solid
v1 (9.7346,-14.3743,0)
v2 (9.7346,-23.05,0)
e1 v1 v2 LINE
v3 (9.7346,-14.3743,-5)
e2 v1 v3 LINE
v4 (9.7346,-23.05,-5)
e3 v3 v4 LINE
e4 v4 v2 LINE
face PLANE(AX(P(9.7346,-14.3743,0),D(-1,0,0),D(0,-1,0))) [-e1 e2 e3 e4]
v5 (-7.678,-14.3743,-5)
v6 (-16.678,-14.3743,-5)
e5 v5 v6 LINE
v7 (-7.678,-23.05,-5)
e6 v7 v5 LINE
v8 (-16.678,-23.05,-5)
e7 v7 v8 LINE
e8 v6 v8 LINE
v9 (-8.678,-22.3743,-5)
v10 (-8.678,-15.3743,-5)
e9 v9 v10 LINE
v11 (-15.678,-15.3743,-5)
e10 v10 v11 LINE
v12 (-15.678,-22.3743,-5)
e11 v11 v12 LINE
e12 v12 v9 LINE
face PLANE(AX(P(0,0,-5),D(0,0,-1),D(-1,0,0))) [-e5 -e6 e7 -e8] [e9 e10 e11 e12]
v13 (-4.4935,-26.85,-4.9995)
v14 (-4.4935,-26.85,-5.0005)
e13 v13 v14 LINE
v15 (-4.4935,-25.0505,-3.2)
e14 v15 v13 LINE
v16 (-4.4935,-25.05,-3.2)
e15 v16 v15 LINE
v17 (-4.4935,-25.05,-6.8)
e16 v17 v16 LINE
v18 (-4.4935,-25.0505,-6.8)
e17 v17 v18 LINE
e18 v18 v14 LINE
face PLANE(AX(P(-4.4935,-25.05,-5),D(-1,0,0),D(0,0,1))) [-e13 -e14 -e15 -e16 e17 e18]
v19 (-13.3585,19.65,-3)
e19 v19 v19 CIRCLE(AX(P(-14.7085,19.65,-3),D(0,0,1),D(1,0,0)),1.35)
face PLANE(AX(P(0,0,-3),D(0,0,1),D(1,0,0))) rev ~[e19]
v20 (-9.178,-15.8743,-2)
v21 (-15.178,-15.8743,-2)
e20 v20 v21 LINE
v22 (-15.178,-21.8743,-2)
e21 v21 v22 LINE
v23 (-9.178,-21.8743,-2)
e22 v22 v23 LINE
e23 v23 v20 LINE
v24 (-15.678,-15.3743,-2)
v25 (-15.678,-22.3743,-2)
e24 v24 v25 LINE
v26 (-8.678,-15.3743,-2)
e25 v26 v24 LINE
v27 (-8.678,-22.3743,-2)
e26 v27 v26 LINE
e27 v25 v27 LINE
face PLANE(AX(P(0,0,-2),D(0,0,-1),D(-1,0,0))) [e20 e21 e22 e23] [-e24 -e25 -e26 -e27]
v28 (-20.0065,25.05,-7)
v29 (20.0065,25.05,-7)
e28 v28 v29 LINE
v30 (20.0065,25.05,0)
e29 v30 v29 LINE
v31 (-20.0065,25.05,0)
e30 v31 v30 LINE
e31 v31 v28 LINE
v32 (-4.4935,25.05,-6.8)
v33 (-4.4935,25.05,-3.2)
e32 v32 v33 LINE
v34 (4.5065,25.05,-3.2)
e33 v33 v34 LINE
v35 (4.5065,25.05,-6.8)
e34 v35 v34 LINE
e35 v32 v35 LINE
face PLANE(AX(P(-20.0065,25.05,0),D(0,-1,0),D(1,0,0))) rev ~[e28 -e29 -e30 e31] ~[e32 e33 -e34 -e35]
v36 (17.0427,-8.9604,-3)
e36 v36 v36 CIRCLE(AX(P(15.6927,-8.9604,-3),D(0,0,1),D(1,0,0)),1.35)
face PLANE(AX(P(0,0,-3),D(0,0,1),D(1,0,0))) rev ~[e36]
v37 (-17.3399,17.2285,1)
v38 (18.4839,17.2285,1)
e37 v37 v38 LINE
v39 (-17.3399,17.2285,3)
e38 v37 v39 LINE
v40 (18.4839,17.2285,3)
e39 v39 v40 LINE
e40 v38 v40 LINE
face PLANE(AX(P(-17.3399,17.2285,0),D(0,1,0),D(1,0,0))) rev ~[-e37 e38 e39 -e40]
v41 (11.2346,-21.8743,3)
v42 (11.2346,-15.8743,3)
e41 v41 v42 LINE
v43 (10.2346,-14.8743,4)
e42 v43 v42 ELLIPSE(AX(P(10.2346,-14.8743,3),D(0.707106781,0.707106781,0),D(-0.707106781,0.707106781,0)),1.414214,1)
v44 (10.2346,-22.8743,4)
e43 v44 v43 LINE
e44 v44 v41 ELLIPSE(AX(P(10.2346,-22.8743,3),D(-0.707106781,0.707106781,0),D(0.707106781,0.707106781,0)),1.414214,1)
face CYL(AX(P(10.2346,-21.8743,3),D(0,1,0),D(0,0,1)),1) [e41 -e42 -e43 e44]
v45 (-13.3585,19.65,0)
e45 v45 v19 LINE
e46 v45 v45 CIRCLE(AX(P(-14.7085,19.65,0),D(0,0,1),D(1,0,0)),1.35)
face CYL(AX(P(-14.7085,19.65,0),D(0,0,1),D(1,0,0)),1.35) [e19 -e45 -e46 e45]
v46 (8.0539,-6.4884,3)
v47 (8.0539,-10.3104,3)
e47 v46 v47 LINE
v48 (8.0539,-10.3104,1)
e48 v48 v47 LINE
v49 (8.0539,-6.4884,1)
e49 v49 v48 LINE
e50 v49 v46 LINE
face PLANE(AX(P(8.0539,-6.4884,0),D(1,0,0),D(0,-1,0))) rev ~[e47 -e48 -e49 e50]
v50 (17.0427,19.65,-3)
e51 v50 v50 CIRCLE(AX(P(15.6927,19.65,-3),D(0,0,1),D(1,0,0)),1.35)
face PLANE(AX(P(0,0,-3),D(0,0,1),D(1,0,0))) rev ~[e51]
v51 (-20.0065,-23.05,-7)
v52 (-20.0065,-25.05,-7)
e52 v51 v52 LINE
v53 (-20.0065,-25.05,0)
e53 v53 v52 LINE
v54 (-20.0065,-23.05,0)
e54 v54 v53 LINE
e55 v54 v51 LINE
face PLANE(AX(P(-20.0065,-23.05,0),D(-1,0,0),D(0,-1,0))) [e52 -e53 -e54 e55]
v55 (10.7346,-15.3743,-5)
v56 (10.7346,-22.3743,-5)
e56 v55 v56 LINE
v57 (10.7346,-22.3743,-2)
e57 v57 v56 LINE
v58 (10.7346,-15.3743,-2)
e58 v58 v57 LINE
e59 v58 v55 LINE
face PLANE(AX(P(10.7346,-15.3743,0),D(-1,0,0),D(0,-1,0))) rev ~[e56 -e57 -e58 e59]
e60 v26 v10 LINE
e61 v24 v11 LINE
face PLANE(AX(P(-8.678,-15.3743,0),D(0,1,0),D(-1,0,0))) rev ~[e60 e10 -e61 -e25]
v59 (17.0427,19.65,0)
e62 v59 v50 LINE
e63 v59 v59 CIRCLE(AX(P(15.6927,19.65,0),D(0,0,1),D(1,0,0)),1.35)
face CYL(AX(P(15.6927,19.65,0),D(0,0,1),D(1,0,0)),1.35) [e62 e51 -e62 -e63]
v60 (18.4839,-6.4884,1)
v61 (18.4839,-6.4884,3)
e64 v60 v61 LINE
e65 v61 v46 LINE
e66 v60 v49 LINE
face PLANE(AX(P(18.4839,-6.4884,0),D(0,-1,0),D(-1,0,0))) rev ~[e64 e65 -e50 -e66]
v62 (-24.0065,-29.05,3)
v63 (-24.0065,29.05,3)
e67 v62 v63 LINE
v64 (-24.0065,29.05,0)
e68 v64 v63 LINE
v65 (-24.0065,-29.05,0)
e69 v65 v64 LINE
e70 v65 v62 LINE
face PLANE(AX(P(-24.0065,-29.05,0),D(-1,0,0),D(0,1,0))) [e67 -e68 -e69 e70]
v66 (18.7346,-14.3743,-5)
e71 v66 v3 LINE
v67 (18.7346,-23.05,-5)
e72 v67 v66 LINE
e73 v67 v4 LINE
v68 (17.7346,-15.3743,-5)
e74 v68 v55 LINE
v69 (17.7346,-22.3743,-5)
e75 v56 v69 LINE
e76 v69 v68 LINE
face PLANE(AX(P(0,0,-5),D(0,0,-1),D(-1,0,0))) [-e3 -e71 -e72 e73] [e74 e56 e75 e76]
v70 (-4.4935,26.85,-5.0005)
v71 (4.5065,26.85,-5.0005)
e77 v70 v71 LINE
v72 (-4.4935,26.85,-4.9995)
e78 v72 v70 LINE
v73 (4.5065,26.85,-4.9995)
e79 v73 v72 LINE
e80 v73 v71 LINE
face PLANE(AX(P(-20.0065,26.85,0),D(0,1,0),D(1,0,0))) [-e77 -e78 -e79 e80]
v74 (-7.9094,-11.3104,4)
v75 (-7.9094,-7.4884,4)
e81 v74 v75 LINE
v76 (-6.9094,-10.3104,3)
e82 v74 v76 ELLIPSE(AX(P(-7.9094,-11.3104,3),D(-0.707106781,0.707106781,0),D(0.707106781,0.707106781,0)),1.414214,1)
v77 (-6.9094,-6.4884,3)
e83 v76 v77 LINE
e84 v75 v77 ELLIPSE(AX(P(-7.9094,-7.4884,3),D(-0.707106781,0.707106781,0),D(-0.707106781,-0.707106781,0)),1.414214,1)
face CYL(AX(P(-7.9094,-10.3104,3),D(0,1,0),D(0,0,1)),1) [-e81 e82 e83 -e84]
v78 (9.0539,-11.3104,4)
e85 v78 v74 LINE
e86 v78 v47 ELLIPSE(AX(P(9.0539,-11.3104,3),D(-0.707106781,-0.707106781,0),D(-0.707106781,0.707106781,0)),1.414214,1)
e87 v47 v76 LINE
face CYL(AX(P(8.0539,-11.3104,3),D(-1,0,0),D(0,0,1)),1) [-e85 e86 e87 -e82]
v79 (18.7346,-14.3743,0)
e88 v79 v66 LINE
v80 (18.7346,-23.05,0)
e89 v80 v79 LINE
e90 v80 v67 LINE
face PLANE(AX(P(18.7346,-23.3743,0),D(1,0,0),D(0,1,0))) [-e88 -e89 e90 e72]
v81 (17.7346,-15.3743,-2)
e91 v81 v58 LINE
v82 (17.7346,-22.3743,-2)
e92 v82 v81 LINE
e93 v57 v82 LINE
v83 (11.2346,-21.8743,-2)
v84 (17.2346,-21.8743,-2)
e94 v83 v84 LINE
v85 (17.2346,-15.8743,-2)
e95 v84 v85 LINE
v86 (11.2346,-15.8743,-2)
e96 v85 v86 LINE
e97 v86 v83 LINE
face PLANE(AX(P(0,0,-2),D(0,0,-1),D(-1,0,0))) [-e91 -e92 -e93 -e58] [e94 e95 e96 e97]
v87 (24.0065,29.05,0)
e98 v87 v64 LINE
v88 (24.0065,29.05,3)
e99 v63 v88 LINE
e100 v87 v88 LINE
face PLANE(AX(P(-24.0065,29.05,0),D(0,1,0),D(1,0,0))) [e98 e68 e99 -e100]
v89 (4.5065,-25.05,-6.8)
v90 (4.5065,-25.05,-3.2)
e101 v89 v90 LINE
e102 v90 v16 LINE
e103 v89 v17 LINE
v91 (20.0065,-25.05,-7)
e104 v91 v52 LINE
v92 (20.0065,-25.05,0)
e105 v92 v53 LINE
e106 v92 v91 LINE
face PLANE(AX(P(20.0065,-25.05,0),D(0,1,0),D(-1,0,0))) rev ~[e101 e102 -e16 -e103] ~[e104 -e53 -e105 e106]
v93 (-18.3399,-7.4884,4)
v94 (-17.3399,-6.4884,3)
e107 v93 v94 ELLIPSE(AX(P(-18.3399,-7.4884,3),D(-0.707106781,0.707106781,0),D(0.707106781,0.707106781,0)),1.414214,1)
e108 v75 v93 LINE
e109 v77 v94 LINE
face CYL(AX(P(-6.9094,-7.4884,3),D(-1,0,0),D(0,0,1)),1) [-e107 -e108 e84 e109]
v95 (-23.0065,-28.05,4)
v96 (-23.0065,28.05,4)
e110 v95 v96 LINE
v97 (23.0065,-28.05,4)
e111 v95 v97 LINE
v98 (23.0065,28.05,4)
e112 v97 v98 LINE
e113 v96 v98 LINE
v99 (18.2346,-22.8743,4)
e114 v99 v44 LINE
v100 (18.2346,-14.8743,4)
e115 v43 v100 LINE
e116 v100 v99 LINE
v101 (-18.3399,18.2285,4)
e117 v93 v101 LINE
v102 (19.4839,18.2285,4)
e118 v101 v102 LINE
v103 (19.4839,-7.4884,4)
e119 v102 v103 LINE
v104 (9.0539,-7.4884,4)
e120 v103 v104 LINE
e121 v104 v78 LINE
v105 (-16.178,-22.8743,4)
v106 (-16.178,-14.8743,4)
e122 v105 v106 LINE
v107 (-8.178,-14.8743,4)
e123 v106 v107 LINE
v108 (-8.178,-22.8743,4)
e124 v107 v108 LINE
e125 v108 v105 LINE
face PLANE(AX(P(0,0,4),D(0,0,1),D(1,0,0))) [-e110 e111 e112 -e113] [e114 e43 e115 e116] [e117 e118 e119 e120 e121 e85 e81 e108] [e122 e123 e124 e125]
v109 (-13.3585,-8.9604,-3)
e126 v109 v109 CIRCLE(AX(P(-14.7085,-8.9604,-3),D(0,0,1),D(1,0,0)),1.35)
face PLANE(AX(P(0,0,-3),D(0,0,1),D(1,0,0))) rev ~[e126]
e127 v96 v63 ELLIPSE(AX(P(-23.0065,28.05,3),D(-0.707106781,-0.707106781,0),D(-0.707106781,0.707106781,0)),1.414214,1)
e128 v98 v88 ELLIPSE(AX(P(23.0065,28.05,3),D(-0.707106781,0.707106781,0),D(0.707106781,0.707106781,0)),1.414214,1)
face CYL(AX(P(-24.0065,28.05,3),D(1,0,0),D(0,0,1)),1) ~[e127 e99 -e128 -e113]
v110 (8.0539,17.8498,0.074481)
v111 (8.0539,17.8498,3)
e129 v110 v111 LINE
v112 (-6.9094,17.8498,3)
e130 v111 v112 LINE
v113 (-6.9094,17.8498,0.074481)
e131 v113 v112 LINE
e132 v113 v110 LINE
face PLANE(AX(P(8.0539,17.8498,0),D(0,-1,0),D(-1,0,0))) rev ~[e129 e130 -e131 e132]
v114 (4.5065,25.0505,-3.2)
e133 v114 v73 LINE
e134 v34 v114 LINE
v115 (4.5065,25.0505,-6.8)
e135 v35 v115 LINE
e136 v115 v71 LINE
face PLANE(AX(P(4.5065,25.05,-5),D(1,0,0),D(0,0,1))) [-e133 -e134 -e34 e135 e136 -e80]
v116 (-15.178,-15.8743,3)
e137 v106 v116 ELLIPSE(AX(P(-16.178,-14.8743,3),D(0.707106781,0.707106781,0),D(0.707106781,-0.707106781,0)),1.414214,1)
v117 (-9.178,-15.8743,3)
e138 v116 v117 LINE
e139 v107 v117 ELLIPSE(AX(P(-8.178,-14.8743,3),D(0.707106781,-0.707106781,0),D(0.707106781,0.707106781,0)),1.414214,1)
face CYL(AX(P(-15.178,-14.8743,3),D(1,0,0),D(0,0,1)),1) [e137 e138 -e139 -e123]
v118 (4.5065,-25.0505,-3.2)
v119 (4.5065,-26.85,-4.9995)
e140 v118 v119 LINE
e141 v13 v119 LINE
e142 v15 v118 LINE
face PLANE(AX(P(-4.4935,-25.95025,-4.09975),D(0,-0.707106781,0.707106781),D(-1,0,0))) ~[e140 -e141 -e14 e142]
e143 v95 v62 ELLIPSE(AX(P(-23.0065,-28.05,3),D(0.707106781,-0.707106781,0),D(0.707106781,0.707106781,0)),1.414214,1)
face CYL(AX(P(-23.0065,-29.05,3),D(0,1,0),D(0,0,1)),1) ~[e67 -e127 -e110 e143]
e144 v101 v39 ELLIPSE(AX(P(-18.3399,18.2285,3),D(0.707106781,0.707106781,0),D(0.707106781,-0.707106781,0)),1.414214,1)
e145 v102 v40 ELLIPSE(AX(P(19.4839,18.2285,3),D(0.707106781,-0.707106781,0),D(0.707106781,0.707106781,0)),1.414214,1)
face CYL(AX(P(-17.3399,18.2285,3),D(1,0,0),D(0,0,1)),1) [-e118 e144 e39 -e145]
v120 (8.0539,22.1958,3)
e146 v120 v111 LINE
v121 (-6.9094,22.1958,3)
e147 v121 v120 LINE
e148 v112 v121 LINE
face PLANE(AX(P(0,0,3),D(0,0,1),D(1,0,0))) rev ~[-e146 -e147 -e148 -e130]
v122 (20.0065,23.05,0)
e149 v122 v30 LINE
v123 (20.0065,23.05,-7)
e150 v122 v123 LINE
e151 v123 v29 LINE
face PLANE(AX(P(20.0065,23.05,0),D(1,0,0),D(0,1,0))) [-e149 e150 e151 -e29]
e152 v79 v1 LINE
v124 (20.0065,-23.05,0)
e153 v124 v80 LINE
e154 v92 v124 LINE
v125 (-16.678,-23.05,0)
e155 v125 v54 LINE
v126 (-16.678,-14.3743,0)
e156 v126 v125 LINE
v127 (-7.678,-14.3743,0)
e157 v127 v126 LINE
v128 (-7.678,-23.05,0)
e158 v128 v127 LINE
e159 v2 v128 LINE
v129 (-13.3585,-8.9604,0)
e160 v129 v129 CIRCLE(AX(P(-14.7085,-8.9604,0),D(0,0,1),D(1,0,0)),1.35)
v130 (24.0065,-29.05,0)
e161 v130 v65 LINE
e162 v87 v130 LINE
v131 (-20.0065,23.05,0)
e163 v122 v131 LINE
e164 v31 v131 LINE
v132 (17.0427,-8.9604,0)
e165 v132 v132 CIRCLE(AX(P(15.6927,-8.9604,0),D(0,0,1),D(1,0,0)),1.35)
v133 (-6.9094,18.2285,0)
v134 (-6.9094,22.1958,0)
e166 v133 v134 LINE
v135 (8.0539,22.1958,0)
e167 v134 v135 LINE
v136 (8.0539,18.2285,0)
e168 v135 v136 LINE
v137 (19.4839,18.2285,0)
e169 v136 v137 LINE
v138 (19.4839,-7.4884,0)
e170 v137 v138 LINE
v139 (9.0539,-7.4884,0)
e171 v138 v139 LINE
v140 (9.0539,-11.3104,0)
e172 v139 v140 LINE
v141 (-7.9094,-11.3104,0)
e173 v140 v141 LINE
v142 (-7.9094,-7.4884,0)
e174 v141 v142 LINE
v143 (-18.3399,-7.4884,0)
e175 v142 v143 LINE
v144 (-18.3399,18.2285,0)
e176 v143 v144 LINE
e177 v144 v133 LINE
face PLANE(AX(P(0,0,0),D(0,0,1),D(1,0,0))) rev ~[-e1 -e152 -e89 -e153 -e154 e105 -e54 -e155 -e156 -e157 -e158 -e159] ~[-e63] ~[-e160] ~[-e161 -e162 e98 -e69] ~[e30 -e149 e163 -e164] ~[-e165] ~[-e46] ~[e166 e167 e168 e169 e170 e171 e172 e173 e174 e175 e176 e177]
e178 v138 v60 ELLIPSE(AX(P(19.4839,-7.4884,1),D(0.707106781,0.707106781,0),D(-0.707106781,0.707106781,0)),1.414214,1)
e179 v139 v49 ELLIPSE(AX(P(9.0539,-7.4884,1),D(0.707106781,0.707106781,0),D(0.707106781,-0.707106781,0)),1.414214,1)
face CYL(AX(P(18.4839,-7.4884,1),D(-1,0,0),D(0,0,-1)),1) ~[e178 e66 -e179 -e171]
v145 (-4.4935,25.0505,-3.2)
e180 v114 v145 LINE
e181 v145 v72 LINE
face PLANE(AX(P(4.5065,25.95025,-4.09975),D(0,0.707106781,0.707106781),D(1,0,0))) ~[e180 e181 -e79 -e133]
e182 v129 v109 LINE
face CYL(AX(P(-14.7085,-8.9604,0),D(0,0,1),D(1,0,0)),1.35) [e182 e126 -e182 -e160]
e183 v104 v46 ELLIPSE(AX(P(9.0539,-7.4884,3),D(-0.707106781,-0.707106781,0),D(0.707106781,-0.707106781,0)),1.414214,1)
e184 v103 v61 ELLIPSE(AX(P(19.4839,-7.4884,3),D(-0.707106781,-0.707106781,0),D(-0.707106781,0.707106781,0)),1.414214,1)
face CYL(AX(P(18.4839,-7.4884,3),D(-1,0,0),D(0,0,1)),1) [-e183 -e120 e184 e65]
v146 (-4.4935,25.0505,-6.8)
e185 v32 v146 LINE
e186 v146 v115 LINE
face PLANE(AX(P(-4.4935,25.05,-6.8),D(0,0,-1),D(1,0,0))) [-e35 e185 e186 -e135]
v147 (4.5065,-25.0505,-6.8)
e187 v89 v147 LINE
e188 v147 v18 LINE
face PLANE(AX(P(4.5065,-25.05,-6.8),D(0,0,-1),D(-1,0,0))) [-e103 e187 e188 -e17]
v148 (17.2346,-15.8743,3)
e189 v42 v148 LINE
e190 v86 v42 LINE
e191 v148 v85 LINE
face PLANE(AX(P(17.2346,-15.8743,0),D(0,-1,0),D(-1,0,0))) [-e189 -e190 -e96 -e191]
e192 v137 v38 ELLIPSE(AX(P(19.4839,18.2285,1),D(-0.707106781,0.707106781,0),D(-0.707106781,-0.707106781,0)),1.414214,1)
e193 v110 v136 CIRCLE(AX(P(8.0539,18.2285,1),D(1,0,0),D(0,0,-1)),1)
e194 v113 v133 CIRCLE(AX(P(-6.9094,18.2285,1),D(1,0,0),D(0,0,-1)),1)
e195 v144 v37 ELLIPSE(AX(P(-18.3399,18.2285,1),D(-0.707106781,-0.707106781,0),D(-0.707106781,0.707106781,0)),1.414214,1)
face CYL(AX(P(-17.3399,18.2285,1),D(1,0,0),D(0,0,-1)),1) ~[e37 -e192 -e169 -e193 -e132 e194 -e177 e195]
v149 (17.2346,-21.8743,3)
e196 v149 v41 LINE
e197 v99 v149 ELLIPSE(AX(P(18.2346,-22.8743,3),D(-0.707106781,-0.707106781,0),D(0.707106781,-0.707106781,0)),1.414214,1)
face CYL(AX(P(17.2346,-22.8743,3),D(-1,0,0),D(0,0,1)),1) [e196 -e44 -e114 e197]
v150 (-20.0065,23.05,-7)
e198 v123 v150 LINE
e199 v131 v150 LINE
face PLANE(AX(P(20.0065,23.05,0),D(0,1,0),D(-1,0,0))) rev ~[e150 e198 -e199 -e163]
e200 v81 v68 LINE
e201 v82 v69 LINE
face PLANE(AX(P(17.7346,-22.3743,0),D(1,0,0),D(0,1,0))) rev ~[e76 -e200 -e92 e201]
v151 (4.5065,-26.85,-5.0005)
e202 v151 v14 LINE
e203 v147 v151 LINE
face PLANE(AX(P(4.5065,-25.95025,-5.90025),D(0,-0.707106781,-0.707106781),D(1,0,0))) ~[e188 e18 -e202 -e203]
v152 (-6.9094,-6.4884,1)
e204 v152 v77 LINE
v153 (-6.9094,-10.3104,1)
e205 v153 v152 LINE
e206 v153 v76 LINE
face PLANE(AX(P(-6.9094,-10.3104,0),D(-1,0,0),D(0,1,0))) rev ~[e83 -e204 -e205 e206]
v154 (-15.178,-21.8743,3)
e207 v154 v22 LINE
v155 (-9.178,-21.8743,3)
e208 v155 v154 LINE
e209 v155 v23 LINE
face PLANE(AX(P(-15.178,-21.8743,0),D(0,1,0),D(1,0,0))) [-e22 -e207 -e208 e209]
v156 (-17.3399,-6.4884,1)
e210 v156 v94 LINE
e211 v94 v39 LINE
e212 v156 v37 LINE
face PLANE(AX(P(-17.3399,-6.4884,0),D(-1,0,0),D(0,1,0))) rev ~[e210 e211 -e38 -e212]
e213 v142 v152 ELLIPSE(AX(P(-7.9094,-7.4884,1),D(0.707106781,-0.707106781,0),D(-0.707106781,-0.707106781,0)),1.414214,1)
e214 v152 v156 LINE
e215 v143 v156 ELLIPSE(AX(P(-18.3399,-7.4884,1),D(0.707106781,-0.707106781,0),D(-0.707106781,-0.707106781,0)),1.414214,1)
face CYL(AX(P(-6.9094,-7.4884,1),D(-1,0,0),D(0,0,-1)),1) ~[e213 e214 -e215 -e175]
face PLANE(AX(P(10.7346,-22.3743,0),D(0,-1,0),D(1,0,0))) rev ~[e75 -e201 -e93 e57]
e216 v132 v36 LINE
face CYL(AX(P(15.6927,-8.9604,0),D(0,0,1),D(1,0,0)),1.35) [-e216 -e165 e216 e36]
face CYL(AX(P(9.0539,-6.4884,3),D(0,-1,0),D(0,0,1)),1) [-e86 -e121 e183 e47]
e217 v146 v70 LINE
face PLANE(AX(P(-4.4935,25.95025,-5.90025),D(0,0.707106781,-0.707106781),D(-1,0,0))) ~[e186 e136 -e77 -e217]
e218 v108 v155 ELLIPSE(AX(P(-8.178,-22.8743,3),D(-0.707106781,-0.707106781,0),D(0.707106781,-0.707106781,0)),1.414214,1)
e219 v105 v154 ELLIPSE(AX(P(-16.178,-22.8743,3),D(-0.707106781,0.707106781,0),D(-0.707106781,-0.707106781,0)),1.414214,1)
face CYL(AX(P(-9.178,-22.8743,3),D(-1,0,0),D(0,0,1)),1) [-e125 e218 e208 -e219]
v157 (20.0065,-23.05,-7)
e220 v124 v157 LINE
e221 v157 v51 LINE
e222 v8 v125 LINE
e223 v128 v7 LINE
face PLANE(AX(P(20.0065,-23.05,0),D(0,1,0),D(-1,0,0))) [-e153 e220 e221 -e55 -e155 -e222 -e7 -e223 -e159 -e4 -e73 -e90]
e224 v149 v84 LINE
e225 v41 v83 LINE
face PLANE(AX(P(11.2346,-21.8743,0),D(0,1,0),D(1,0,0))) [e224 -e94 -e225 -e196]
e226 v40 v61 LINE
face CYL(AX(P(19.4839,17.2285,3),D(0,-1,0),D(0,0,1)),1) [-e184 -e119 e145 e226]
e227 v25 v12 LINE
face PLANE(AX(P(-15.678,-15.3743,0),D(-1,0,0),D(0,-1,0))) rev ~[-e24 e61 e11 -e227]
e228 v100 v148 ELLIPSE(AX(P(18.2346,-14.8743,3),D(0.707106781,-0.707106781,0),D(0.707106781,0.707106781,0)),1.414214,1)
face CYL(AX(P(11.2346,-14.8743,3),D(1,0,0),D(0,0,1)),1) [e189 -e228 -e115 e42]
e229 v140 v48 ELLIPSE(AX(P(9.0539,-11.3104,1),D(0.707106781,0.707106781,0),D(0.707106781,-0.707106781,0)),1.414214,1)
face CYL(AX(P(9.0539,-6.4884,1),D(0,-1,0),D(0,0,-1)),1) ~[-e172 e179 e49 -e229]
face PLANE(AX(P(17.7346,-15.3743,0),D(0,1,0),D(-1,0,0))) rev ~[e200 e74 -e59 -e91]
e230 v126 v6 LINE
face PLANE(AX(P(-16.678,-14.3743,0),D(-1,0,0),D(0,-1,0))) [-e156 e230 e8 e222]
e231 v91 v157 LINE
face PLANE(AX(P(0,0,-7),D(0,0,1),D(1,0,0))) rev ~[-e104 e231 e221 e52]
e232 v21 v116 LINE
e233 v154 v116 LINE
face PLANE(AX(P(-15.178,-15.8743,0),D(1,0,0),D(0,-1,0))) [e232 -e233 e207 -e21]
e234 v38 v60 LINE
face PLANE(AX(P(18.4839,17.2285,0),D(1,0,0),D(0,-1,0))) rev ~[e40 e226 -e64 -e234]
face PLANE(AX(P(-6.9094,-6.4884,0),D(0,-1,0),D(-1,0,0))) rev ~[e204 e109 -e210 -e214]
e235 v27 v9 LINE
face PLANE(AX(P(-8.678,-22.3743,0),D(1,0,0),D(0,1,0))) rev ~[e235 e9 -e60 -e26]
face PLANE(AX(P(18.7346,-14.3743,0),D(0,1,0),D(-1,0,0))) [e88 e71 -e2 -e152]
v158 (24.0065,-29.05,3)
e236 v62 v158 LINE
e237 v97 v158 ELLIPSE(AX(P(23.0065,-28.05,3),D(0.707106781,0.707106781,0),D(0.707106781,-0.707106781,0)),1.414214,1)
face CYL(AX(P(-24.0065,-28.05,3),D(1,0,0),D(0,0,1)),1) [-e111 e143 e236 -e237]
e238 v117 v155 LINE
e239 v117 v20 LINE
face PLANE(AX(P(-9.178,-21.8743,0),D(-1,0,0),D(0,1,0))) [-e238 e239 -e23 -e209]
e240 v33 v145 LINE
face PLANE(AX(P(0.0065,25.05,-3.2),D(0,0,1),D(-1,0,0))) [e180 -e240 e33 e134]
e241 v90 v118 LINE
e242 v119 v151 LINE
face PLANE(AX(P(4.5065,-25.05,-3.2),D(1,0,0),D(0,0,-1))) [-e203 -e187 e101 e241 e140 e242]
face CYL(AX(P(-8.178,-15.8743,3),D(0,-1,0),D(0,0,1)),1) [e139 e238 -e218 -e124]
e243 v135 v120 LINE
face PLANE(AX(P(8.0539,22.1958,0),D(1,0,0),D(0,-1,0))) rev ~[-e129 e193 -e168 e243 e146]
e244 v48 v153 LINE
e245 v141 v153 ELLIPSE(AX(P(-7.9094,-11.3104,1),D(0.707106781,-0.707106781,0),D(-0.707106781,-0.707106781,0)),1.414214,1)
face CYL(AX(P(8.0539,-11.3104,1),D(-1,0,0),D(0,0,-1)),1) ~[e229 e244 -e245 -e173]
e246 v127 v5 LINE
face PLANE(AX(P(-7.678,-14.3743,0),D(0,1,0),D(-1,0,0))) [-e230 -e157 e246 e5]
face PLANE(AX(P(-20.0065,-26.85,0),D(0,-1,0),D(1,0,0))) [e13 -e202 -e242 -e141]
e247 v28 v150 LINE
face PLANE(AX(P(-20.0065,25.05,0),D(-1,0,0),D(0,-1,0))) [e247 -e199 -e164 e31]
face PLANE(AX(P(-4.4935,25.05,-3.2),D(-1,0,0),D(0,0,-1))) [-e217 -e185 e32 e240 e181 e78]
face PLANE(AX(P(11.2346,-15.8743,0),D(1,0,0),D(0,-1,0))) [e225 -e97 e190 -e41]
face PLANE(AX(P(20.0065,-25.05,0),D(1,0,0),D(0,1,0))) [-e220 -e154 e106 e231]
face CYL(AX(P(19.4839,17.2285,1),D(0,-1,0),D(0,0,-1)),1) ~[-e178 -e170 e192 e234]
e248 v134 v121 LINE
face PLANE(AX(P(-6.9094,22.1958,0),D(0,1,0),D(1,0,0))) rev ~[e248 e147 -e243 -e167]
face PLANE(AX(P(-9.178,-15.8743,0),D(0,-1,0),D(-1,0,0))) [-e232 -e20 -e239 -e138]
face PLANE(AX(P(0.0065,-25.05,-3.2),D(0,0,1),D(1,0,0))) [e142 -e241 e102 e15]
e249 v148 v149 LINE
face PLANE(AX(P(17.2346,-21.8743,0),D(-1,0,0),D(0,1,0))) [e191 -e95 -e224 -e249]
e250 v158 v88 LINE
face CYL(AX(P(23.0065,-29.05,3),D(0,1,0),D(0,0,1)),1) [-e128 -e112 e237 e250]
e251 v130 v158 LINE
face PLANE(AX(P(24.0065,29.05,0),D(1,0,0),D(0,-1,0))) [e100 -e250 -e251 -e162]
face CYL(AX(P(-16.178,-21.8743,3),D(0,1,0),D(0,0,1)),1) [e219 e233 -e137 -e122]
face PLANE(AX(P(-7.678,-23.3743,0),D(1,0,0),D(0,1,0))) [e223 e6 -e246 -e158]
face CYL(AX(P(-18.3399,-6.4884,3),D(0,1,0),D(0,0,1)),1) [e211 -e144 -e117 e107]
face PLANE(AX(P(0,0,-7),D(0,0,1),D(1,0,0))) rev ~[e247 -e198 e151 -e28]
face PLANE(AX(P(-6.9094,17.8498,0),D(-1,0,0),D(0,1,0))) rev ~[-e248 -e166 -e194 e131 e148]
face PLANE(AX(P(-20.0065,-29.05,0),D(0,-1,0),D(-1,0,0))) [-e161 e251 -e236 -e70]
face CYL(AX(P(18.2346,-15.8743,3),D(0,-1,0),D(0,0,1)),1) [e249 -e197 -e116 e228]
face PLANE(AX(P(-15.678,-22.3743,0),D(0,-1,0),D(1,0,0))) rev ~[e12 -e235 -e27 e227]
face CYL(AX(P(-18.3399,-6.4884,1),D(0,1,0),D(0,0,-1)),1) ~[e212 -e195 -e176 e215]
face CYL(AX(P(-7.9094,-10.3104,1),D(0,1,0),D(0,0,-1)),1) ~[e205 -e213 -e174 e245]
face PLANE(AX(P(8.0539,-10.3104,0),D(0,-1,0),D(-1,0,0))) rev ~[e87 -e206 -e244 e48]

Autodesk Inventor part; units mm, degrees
ref_plane "YZ Plane" through (0, 0, 0) normal (1, 0, 0) x (0, 1, 0)
ref_plane "XZ Plane" through (0, 0, 0) normal (0, 1, 0) x (-1, 0, 0)
ref_plane "XY Plane" through (0, 0, 0) normal (0, 0, 1) x (1, 0, 0)
sketch "Skizze1" plane through (0, 0, 0) normal (0, 0, 1) x (1, 0, 0)
  line L0 (-24.0065, 29.05) -> (24.0065, 29.05)
  line L1 (24.0065, 29.05) -> (24.0065, -29.05)
  line L2 (24.0065, -29.05) -> (-24.0065, -29.05)
  line L3 (-24.0065, -29.05) -> (-24.0065, 29.05)
  line L4 (-24.0065, 29.05) -> (24.0065, -29.05) construction
  line L5 (24.0065, 29.05) -> (-24.0065, -29.05) construction
  line L6 (-24.0065, 29.05) -> (-20.0065, 29.05)
  line L7 (-20.0065, 29.05) -> (-20.0065, -29.05)
  line L8 (-20.0065, -29.05) -> (-24.0065, -29.05)
  line L9 (-24.0065, -29.05) -> (-24.0065, 29.05)
  line L10 (-20.0065, -29.05) -> (24.0065, -29.05)
  line L11 (24.0065, -29.05) -> (24.0065, -25.05)
  line L12 (24.0065, -25.05) -> (-20.0065, -25.05)
  line L13 (-20.0065, -25.05) -> (-20.0065, -29.05)
  line L14 (24.0065, -25.05) -> (20.0065, -25.05)
  line L15 (20.0065, -25.05) -> (20.0065, 29.05)
  line L16 (20.0065, 29.05) -> (24.0065, 29.05)
  line L17 (24.0065, 29.05) -> (24.0065, -25.05)
  line L18 (20.0065, 29.05) -> (-20.0065, 29.05)
  line L19 (-20.0065, 29.05) -> (-20.0065, 25.05)
  line L20 (-20.0065, 25.05) -> (20.0065, 25.05)
  line L21 (20.0065, 25.05) -> (20.0065, 29.05)
  line L22 (-20.0065, 25.05) -> (20.0065, 25.05)
  line L23 (20.0065, 25.05) -> (20.0065, 23.05)
  line L24 (20.0065, 23.05) -> (-20.0065, 23.05)
  line L25 (-20.0065, 23.05) -> (-20.0065, 25.05)
  line L26 (-20.0065, -25.05) -> (20.0065, -25.05)
  line L27 (20.0065, -25.05) -> (20.0065, -23.05)
  line L28 (20.0065, -23.05) -> (-20.0065, -23.05)
  line L29 (-20.0065, -23.05) -> (-20.0065, -25.05)
  line L30 (-24.0065, 29.05) -> (24.0065, 29.05)
  line L31 (24.0065, 29.05) -> (24.0065, -29.05)
  line L32 (24.0065, -29.05) -> (-24.0065, -29.05)
  line L33 (-24.0065, -29.05) -> (-24.0065, 29.05)
  circle A0 centre (-14.7085, 19.65) radius 1.35
  circle A1 centre (15.6927, 19.65) radius 1.35
  circle A2 centre (-14.7085, -8.9604) radius 1.35
  circle A3 centre (15.6927, -8.9604) radius 1.35
  line L34 (-17.3399, 17.2285) -> (18.4839, 17.2285)
  line L35 (18.4839, 17.2285) -> (18.4839, -6.4884)
  line L36 (18.4839, -6.4884) -> (-17.3399, -6.4884)
  line L37 (-17.3399, -6.4884) -> (-17.3399, 17.2285)
  line L38 (-17.3399, -6.4884) -> (-6.9094, -6.4884)
  line L39 (-6.9094, -10.3104) -> (-6.9094, -6.4884)
  line L40 (18.4839, -6.4884) -> (8.0539, -6.4884)
  line L41 (8.0539, -6.4884) -> (8.0539, -10.3104)
  line L42 (8.0539, -10.3104) -> (-6.9094, -10.3104)
  line L43 (-6.9094, 22.1958) -> (8.0539, 22.1958)
  line L44 (8.0539, 22.1958) -> (8.0539, 17.8498)
  line L45 (8.0539, 17.8498) -> (-6.9094, 17.8498)
  line L46 (-6.9094, 17.8498) -> (-6.9094, 22.1958)
  point P0 (0, 0)
  point P1 (-20.0065, -25.05)
  dimension "d0" = 48.013
  dimension "d1" = 58.1
  dimension "d2" = 4
  dimension "d3" = 4
  dimension "d4" = 4
  dimension "d5" = 4
  dimension "d6" = 2
  dimension "d7" = 2
  dimension "d28" = 2.7
  dimension "d29" = 2.7
  dimension "d30" = 2.7
  dimension "d31" = 2.7
  dimension "d32" = 10.43
  dimension "d33" = 3.822
extrude "Extrusion1" add sketch "Skizze1" against normal blind 7 contours L20 L15 L24 L7 | L7 L28 L15 L12
sketch "Skizze2" plane through (-20.0065, -25.05, 0) normal (0, -1, 0) x (1, 0, 0)
  line L0 (40.013, 0) -> (0, 0) projected
  line L1 (40.013, 0) -> (20.013, 0)
  line L2 (20.013, 0) -> (20.013, -5)
  line L3 (15.513, -3.2) -> (24.513, -3.2)
  line L4 (24.513, -3.2) -> (24.513, -6.8)
  line L5 (24.513, -6.8) -> (15.513, -6.8)
  line L6 (15.513, -6.8) -> (15.513, -3.2)
  line L7 (15.513, -3.2) -> (24.513, -6.8) construction
  line L8 (24.513, -3.2) -> (15.513, -6.8) construction
  line L9 (20.013, -5) -> (15.513, -5)
  line L10 (20.013, -5) -> (24.513, -5)
  point P0 (20.0065, 0)
  dimension "d10" = 20
  dimension "d11" = 5
  dimension "d12" = 9
  dimension "d13" = 3.6
extrude "Extrusion2" add sketch "Skizze2" along normal blind 1.8
chamfer "Fasen1" distance 1.8 angle 45 2 edges at (0.0065, -26.85, -3.2) (0.0065, -26.85, -6.8)
sketch "Skizze3" plane through (-20.0065, 25.05, 0) normal (0, 1, 0) x (1, 0, 0)
  line L0 (40.013, 0) -> (40.013, 7) projected
  line L1 (40.013, 0) -> (20.013, 0)
  line L2 (0, 0) -> (40.013, 0) projected
  line L3 (20.013, 0) -> (20.013, 5)
  line L4 (24.513, 3.2) -> (15.513, 3.2)
  line L5 (15.513, 3.2) -> (15.513, 6.8)
  line L6 (15.513, 6.8) -> (24.513, 6.8)
  line L7 (24.513, 6.8) -> (24.513, 3.2)
  line L8 (24.513, 3.2) -> (15.513, 6.8) construction
  line L9 (15.513, 3.2) -> (24.513, 6.8) construction
  line L10 (20.013, 5) -> (24.513, 5)
  line L11 (24.513, 5) -> (15.513, 5)
  line L12 (15.513, 5) -> (15.513, 6.8)
  line L13 (15.513, 6.8) -> (24.513, 6.8)
  line L14 (24.513, 6.8) -> (24.513, 5)
  point P0 (20.0065, 0)
  dimension "d19" = 20
  dimension "d20" = 5
  dimension "d21" = 9
  dimension "d22" = 3.6
extrude "Extrusion3" add sketch "Skizze3" along normal blind 1.8
chamfer "Fasen2" distance 1.8 angle 45 2 edges at (0.0065, 26.85, -3.2) (0.0065, 26.85, -6.8)
extrude "Extrusion4" add sketch "Skizze1" along normal blind 4 contours L0 L7 L2 L3 | L0 L15 L20 L7 | L0 L1 L12 L15 | L20 L15 L24 L7 | L7 L12 L1 L2 | L24 L15 L28 L7 | L7 L28 L15 L12 | A0 | A1 | A2 | A3 | L34 L35 L36 L37 | L36 L41 L42 L39 | L43 L44 L45 L46
extrude "Extrusion5" add sketch "Skizze1" against normal blind 3 contours A0 | A1 | A2 | A3
extrude "Extrusion6" cut sketch "Skizze1" along normal blind 4 contours L34 L35 L36 L37 | L36 L41 L42 L39
fillet "Rundung1" radius 1 16 edges at (0.572, 17.2285, 4) (-17.3399, 5.3701, 4) (-12.1246, -6.4884, 4) (-6.9094, -8.3994, 4) (0.5723, -10.3104, 4) (8.0539, -8.3994, 4) (13.2689, -6.4884, 4) (18.4839, 5.3701, 4) (8.0539, -8.3994, 0) (13.2689, -6.4884, 0) (18.4839, 5.3701, 0) (0.5723, -10.3104, 0) (-12.1246, -6.4884, 0) (-6.9094, -8.3994, 0) (-17.3399, 5.3701, 0) (0.572, 17.2285, 0)
extrude "Extrusion7" cut sketch "Skizze1" along normal blind 3 contours L43 L44 L45 L46
sketch "Skizze4" plane through (0, 0, 0) normal (0, 0, -1) x (-1, 0, 0)
  line L0 (-17.7346, -15.3743) -> (-10.7346, -15.3743)
  line L1 (-10.7346, -15.3743) -> (-10.7346, -22.3743)
  line L2 (-10.7346, -22.3743) -> (-17.7346, -22.3743)
  line L3 (-17.7346, -22.3743) -> (-17.7346, -15.3743)
  line L4 (-17.7346, -15.3743) -> (-10.7346, -22.3743) construction
  line L5 (-10.7346, -15.3743) -> (-17.7346, -22.3743) construction
  line L6 (-18.7346, -14.3743) -> (-9.7346, -14.3743)
  line L7 (-9.7346, -14.3743) -> (-9.7346, -23.3743)
  line L8 (-9.7346, -23.3743) -> (-18.7346, -23.3743)
  line L9 (-18.7346, -23.3743) -> (-18.7346, -14.3743)
  line L10 (-18.7346, -14.3743) -> (-9.7346, -23.3743) construction
  line L11 (-9.7346, -14.3743) -> (-18.7346, -23.3743) construction
  line L12 (-17.2346, -15.8743) -> (-11.2346, -15.8743)
  line L13 (-11.2346, -15.8743) -> (-11.2346, -21.8743)
  line L14 (-11.2346, -21.8743) -> (-17.2346, -21.8743)
  line L15 (-17.2346, -21.8743) -> (-17.2346, -15.8743)
  line L16 (-17.2346, -15.8743) -> (-11.2346, -21.8743) construction
  line L17 (-11.2346, -15.8743) -> (-17.2346, -21.8743) construction
  line L18 (9.178, -15.8743) -> (15.178, -15.8743)
  line L19 (15.178, -15.8743) -> (15.178, -21.8743)
  line L20 (15.178, -21.8743) -> (9.178, -21.8743)
  line L21 (9.178, -21.8743) -> (9.178, -15.8743)
  line L22 (9.178, -15.8743) -> (15.178, -21.8743) construction
  line L23 (15.178, -15.8743) -> (9.178, -21.8743) construction
  line L24 (8.678, -15.3743) -> (15.678, -15.3743)
  line L25 (15.678, -15.3743) -> (15.678, -22.3743)
  line L26 (15.678, -22.3743) -> (8.678, -22.3743)
  line L27 (8.678, -22.3743) -> (8.678, -15.3743)
  line L28 (8.678, -15.3743) -> (15.678, -22.3743) construction
  line L29 (15.678, -15.3743) -> (8.678, -22.3743) construction
  line L30 (7.678, -14.3743) -> (16.678, -14.3743)
  line L31 (16.678, -14.3743) -> (16.678, -23.3743)
  line L32 (16.678, -23.3743) -> (7.678, -23.3743)
  line L33 (7.678, -23.3743) -> (7.678, -14.3743)
  line L34 (7.678, -14.3743) -> (16.678, -23.3743) construction
  line L35 (16.678, -14.3743) -> (7.678, -23.3743) construction
  point P0 (0, 0)
  point P1 (-14.2346, -18.8743)
  point P2 (-14.2346, -18.8743)
  point P3 (-14.2346, -18.8743)
  point P4 (12.178, -18.8743)
  point P5 (12.178, -18.8743)
  point P6 (12.178, -18.8743)
  dimension "d43" = 7
  dimension "d44" = 7
  dimension "d45" = 9
  dimension "d46" = 9
  dimension "d47" = 6
  dimension "d48" = 6
  dimension "d49" = 6
  dimension "d50" = 6
  dimension "d51" = 7
  dimension "d52" = 7
  dimension "d53" = 9
  dimension "d54" = 9
extrude "Extrusion8" add sketch "Skizze4" along normal blind 5 contours L6 L7 L8 L9 | L30 L31 L32 L33
extrude "Extrusion9" add sketch "Skizze4" along normal blind 2 contours L0 L1 L2 L3 | L24 L25 L26 L27
extrude "Extrusion10" cut sketch "Skizze4" against normal blind 5 contours L12 L13 L14 L15 | L18 L19 L20 L21
fillet "Rundung2" radius 1 12 edges at (-12.178, -15.8743, 4) (-9.178, -18.8743, 4) (-12.178, -21.8743, 4) (-15.178, -18.8743, 4) (11.2346, -18.8743, 4) (14.2346, -15.8743, 4) (17.2346, -18.8743, 4) (14.2346, -21.8743, 4) (-24.0065, 0, 4) (0, -29.05, 4) (24.0065, 0, 4) (0, 29.05, 4)
properties part number "Deckel"
